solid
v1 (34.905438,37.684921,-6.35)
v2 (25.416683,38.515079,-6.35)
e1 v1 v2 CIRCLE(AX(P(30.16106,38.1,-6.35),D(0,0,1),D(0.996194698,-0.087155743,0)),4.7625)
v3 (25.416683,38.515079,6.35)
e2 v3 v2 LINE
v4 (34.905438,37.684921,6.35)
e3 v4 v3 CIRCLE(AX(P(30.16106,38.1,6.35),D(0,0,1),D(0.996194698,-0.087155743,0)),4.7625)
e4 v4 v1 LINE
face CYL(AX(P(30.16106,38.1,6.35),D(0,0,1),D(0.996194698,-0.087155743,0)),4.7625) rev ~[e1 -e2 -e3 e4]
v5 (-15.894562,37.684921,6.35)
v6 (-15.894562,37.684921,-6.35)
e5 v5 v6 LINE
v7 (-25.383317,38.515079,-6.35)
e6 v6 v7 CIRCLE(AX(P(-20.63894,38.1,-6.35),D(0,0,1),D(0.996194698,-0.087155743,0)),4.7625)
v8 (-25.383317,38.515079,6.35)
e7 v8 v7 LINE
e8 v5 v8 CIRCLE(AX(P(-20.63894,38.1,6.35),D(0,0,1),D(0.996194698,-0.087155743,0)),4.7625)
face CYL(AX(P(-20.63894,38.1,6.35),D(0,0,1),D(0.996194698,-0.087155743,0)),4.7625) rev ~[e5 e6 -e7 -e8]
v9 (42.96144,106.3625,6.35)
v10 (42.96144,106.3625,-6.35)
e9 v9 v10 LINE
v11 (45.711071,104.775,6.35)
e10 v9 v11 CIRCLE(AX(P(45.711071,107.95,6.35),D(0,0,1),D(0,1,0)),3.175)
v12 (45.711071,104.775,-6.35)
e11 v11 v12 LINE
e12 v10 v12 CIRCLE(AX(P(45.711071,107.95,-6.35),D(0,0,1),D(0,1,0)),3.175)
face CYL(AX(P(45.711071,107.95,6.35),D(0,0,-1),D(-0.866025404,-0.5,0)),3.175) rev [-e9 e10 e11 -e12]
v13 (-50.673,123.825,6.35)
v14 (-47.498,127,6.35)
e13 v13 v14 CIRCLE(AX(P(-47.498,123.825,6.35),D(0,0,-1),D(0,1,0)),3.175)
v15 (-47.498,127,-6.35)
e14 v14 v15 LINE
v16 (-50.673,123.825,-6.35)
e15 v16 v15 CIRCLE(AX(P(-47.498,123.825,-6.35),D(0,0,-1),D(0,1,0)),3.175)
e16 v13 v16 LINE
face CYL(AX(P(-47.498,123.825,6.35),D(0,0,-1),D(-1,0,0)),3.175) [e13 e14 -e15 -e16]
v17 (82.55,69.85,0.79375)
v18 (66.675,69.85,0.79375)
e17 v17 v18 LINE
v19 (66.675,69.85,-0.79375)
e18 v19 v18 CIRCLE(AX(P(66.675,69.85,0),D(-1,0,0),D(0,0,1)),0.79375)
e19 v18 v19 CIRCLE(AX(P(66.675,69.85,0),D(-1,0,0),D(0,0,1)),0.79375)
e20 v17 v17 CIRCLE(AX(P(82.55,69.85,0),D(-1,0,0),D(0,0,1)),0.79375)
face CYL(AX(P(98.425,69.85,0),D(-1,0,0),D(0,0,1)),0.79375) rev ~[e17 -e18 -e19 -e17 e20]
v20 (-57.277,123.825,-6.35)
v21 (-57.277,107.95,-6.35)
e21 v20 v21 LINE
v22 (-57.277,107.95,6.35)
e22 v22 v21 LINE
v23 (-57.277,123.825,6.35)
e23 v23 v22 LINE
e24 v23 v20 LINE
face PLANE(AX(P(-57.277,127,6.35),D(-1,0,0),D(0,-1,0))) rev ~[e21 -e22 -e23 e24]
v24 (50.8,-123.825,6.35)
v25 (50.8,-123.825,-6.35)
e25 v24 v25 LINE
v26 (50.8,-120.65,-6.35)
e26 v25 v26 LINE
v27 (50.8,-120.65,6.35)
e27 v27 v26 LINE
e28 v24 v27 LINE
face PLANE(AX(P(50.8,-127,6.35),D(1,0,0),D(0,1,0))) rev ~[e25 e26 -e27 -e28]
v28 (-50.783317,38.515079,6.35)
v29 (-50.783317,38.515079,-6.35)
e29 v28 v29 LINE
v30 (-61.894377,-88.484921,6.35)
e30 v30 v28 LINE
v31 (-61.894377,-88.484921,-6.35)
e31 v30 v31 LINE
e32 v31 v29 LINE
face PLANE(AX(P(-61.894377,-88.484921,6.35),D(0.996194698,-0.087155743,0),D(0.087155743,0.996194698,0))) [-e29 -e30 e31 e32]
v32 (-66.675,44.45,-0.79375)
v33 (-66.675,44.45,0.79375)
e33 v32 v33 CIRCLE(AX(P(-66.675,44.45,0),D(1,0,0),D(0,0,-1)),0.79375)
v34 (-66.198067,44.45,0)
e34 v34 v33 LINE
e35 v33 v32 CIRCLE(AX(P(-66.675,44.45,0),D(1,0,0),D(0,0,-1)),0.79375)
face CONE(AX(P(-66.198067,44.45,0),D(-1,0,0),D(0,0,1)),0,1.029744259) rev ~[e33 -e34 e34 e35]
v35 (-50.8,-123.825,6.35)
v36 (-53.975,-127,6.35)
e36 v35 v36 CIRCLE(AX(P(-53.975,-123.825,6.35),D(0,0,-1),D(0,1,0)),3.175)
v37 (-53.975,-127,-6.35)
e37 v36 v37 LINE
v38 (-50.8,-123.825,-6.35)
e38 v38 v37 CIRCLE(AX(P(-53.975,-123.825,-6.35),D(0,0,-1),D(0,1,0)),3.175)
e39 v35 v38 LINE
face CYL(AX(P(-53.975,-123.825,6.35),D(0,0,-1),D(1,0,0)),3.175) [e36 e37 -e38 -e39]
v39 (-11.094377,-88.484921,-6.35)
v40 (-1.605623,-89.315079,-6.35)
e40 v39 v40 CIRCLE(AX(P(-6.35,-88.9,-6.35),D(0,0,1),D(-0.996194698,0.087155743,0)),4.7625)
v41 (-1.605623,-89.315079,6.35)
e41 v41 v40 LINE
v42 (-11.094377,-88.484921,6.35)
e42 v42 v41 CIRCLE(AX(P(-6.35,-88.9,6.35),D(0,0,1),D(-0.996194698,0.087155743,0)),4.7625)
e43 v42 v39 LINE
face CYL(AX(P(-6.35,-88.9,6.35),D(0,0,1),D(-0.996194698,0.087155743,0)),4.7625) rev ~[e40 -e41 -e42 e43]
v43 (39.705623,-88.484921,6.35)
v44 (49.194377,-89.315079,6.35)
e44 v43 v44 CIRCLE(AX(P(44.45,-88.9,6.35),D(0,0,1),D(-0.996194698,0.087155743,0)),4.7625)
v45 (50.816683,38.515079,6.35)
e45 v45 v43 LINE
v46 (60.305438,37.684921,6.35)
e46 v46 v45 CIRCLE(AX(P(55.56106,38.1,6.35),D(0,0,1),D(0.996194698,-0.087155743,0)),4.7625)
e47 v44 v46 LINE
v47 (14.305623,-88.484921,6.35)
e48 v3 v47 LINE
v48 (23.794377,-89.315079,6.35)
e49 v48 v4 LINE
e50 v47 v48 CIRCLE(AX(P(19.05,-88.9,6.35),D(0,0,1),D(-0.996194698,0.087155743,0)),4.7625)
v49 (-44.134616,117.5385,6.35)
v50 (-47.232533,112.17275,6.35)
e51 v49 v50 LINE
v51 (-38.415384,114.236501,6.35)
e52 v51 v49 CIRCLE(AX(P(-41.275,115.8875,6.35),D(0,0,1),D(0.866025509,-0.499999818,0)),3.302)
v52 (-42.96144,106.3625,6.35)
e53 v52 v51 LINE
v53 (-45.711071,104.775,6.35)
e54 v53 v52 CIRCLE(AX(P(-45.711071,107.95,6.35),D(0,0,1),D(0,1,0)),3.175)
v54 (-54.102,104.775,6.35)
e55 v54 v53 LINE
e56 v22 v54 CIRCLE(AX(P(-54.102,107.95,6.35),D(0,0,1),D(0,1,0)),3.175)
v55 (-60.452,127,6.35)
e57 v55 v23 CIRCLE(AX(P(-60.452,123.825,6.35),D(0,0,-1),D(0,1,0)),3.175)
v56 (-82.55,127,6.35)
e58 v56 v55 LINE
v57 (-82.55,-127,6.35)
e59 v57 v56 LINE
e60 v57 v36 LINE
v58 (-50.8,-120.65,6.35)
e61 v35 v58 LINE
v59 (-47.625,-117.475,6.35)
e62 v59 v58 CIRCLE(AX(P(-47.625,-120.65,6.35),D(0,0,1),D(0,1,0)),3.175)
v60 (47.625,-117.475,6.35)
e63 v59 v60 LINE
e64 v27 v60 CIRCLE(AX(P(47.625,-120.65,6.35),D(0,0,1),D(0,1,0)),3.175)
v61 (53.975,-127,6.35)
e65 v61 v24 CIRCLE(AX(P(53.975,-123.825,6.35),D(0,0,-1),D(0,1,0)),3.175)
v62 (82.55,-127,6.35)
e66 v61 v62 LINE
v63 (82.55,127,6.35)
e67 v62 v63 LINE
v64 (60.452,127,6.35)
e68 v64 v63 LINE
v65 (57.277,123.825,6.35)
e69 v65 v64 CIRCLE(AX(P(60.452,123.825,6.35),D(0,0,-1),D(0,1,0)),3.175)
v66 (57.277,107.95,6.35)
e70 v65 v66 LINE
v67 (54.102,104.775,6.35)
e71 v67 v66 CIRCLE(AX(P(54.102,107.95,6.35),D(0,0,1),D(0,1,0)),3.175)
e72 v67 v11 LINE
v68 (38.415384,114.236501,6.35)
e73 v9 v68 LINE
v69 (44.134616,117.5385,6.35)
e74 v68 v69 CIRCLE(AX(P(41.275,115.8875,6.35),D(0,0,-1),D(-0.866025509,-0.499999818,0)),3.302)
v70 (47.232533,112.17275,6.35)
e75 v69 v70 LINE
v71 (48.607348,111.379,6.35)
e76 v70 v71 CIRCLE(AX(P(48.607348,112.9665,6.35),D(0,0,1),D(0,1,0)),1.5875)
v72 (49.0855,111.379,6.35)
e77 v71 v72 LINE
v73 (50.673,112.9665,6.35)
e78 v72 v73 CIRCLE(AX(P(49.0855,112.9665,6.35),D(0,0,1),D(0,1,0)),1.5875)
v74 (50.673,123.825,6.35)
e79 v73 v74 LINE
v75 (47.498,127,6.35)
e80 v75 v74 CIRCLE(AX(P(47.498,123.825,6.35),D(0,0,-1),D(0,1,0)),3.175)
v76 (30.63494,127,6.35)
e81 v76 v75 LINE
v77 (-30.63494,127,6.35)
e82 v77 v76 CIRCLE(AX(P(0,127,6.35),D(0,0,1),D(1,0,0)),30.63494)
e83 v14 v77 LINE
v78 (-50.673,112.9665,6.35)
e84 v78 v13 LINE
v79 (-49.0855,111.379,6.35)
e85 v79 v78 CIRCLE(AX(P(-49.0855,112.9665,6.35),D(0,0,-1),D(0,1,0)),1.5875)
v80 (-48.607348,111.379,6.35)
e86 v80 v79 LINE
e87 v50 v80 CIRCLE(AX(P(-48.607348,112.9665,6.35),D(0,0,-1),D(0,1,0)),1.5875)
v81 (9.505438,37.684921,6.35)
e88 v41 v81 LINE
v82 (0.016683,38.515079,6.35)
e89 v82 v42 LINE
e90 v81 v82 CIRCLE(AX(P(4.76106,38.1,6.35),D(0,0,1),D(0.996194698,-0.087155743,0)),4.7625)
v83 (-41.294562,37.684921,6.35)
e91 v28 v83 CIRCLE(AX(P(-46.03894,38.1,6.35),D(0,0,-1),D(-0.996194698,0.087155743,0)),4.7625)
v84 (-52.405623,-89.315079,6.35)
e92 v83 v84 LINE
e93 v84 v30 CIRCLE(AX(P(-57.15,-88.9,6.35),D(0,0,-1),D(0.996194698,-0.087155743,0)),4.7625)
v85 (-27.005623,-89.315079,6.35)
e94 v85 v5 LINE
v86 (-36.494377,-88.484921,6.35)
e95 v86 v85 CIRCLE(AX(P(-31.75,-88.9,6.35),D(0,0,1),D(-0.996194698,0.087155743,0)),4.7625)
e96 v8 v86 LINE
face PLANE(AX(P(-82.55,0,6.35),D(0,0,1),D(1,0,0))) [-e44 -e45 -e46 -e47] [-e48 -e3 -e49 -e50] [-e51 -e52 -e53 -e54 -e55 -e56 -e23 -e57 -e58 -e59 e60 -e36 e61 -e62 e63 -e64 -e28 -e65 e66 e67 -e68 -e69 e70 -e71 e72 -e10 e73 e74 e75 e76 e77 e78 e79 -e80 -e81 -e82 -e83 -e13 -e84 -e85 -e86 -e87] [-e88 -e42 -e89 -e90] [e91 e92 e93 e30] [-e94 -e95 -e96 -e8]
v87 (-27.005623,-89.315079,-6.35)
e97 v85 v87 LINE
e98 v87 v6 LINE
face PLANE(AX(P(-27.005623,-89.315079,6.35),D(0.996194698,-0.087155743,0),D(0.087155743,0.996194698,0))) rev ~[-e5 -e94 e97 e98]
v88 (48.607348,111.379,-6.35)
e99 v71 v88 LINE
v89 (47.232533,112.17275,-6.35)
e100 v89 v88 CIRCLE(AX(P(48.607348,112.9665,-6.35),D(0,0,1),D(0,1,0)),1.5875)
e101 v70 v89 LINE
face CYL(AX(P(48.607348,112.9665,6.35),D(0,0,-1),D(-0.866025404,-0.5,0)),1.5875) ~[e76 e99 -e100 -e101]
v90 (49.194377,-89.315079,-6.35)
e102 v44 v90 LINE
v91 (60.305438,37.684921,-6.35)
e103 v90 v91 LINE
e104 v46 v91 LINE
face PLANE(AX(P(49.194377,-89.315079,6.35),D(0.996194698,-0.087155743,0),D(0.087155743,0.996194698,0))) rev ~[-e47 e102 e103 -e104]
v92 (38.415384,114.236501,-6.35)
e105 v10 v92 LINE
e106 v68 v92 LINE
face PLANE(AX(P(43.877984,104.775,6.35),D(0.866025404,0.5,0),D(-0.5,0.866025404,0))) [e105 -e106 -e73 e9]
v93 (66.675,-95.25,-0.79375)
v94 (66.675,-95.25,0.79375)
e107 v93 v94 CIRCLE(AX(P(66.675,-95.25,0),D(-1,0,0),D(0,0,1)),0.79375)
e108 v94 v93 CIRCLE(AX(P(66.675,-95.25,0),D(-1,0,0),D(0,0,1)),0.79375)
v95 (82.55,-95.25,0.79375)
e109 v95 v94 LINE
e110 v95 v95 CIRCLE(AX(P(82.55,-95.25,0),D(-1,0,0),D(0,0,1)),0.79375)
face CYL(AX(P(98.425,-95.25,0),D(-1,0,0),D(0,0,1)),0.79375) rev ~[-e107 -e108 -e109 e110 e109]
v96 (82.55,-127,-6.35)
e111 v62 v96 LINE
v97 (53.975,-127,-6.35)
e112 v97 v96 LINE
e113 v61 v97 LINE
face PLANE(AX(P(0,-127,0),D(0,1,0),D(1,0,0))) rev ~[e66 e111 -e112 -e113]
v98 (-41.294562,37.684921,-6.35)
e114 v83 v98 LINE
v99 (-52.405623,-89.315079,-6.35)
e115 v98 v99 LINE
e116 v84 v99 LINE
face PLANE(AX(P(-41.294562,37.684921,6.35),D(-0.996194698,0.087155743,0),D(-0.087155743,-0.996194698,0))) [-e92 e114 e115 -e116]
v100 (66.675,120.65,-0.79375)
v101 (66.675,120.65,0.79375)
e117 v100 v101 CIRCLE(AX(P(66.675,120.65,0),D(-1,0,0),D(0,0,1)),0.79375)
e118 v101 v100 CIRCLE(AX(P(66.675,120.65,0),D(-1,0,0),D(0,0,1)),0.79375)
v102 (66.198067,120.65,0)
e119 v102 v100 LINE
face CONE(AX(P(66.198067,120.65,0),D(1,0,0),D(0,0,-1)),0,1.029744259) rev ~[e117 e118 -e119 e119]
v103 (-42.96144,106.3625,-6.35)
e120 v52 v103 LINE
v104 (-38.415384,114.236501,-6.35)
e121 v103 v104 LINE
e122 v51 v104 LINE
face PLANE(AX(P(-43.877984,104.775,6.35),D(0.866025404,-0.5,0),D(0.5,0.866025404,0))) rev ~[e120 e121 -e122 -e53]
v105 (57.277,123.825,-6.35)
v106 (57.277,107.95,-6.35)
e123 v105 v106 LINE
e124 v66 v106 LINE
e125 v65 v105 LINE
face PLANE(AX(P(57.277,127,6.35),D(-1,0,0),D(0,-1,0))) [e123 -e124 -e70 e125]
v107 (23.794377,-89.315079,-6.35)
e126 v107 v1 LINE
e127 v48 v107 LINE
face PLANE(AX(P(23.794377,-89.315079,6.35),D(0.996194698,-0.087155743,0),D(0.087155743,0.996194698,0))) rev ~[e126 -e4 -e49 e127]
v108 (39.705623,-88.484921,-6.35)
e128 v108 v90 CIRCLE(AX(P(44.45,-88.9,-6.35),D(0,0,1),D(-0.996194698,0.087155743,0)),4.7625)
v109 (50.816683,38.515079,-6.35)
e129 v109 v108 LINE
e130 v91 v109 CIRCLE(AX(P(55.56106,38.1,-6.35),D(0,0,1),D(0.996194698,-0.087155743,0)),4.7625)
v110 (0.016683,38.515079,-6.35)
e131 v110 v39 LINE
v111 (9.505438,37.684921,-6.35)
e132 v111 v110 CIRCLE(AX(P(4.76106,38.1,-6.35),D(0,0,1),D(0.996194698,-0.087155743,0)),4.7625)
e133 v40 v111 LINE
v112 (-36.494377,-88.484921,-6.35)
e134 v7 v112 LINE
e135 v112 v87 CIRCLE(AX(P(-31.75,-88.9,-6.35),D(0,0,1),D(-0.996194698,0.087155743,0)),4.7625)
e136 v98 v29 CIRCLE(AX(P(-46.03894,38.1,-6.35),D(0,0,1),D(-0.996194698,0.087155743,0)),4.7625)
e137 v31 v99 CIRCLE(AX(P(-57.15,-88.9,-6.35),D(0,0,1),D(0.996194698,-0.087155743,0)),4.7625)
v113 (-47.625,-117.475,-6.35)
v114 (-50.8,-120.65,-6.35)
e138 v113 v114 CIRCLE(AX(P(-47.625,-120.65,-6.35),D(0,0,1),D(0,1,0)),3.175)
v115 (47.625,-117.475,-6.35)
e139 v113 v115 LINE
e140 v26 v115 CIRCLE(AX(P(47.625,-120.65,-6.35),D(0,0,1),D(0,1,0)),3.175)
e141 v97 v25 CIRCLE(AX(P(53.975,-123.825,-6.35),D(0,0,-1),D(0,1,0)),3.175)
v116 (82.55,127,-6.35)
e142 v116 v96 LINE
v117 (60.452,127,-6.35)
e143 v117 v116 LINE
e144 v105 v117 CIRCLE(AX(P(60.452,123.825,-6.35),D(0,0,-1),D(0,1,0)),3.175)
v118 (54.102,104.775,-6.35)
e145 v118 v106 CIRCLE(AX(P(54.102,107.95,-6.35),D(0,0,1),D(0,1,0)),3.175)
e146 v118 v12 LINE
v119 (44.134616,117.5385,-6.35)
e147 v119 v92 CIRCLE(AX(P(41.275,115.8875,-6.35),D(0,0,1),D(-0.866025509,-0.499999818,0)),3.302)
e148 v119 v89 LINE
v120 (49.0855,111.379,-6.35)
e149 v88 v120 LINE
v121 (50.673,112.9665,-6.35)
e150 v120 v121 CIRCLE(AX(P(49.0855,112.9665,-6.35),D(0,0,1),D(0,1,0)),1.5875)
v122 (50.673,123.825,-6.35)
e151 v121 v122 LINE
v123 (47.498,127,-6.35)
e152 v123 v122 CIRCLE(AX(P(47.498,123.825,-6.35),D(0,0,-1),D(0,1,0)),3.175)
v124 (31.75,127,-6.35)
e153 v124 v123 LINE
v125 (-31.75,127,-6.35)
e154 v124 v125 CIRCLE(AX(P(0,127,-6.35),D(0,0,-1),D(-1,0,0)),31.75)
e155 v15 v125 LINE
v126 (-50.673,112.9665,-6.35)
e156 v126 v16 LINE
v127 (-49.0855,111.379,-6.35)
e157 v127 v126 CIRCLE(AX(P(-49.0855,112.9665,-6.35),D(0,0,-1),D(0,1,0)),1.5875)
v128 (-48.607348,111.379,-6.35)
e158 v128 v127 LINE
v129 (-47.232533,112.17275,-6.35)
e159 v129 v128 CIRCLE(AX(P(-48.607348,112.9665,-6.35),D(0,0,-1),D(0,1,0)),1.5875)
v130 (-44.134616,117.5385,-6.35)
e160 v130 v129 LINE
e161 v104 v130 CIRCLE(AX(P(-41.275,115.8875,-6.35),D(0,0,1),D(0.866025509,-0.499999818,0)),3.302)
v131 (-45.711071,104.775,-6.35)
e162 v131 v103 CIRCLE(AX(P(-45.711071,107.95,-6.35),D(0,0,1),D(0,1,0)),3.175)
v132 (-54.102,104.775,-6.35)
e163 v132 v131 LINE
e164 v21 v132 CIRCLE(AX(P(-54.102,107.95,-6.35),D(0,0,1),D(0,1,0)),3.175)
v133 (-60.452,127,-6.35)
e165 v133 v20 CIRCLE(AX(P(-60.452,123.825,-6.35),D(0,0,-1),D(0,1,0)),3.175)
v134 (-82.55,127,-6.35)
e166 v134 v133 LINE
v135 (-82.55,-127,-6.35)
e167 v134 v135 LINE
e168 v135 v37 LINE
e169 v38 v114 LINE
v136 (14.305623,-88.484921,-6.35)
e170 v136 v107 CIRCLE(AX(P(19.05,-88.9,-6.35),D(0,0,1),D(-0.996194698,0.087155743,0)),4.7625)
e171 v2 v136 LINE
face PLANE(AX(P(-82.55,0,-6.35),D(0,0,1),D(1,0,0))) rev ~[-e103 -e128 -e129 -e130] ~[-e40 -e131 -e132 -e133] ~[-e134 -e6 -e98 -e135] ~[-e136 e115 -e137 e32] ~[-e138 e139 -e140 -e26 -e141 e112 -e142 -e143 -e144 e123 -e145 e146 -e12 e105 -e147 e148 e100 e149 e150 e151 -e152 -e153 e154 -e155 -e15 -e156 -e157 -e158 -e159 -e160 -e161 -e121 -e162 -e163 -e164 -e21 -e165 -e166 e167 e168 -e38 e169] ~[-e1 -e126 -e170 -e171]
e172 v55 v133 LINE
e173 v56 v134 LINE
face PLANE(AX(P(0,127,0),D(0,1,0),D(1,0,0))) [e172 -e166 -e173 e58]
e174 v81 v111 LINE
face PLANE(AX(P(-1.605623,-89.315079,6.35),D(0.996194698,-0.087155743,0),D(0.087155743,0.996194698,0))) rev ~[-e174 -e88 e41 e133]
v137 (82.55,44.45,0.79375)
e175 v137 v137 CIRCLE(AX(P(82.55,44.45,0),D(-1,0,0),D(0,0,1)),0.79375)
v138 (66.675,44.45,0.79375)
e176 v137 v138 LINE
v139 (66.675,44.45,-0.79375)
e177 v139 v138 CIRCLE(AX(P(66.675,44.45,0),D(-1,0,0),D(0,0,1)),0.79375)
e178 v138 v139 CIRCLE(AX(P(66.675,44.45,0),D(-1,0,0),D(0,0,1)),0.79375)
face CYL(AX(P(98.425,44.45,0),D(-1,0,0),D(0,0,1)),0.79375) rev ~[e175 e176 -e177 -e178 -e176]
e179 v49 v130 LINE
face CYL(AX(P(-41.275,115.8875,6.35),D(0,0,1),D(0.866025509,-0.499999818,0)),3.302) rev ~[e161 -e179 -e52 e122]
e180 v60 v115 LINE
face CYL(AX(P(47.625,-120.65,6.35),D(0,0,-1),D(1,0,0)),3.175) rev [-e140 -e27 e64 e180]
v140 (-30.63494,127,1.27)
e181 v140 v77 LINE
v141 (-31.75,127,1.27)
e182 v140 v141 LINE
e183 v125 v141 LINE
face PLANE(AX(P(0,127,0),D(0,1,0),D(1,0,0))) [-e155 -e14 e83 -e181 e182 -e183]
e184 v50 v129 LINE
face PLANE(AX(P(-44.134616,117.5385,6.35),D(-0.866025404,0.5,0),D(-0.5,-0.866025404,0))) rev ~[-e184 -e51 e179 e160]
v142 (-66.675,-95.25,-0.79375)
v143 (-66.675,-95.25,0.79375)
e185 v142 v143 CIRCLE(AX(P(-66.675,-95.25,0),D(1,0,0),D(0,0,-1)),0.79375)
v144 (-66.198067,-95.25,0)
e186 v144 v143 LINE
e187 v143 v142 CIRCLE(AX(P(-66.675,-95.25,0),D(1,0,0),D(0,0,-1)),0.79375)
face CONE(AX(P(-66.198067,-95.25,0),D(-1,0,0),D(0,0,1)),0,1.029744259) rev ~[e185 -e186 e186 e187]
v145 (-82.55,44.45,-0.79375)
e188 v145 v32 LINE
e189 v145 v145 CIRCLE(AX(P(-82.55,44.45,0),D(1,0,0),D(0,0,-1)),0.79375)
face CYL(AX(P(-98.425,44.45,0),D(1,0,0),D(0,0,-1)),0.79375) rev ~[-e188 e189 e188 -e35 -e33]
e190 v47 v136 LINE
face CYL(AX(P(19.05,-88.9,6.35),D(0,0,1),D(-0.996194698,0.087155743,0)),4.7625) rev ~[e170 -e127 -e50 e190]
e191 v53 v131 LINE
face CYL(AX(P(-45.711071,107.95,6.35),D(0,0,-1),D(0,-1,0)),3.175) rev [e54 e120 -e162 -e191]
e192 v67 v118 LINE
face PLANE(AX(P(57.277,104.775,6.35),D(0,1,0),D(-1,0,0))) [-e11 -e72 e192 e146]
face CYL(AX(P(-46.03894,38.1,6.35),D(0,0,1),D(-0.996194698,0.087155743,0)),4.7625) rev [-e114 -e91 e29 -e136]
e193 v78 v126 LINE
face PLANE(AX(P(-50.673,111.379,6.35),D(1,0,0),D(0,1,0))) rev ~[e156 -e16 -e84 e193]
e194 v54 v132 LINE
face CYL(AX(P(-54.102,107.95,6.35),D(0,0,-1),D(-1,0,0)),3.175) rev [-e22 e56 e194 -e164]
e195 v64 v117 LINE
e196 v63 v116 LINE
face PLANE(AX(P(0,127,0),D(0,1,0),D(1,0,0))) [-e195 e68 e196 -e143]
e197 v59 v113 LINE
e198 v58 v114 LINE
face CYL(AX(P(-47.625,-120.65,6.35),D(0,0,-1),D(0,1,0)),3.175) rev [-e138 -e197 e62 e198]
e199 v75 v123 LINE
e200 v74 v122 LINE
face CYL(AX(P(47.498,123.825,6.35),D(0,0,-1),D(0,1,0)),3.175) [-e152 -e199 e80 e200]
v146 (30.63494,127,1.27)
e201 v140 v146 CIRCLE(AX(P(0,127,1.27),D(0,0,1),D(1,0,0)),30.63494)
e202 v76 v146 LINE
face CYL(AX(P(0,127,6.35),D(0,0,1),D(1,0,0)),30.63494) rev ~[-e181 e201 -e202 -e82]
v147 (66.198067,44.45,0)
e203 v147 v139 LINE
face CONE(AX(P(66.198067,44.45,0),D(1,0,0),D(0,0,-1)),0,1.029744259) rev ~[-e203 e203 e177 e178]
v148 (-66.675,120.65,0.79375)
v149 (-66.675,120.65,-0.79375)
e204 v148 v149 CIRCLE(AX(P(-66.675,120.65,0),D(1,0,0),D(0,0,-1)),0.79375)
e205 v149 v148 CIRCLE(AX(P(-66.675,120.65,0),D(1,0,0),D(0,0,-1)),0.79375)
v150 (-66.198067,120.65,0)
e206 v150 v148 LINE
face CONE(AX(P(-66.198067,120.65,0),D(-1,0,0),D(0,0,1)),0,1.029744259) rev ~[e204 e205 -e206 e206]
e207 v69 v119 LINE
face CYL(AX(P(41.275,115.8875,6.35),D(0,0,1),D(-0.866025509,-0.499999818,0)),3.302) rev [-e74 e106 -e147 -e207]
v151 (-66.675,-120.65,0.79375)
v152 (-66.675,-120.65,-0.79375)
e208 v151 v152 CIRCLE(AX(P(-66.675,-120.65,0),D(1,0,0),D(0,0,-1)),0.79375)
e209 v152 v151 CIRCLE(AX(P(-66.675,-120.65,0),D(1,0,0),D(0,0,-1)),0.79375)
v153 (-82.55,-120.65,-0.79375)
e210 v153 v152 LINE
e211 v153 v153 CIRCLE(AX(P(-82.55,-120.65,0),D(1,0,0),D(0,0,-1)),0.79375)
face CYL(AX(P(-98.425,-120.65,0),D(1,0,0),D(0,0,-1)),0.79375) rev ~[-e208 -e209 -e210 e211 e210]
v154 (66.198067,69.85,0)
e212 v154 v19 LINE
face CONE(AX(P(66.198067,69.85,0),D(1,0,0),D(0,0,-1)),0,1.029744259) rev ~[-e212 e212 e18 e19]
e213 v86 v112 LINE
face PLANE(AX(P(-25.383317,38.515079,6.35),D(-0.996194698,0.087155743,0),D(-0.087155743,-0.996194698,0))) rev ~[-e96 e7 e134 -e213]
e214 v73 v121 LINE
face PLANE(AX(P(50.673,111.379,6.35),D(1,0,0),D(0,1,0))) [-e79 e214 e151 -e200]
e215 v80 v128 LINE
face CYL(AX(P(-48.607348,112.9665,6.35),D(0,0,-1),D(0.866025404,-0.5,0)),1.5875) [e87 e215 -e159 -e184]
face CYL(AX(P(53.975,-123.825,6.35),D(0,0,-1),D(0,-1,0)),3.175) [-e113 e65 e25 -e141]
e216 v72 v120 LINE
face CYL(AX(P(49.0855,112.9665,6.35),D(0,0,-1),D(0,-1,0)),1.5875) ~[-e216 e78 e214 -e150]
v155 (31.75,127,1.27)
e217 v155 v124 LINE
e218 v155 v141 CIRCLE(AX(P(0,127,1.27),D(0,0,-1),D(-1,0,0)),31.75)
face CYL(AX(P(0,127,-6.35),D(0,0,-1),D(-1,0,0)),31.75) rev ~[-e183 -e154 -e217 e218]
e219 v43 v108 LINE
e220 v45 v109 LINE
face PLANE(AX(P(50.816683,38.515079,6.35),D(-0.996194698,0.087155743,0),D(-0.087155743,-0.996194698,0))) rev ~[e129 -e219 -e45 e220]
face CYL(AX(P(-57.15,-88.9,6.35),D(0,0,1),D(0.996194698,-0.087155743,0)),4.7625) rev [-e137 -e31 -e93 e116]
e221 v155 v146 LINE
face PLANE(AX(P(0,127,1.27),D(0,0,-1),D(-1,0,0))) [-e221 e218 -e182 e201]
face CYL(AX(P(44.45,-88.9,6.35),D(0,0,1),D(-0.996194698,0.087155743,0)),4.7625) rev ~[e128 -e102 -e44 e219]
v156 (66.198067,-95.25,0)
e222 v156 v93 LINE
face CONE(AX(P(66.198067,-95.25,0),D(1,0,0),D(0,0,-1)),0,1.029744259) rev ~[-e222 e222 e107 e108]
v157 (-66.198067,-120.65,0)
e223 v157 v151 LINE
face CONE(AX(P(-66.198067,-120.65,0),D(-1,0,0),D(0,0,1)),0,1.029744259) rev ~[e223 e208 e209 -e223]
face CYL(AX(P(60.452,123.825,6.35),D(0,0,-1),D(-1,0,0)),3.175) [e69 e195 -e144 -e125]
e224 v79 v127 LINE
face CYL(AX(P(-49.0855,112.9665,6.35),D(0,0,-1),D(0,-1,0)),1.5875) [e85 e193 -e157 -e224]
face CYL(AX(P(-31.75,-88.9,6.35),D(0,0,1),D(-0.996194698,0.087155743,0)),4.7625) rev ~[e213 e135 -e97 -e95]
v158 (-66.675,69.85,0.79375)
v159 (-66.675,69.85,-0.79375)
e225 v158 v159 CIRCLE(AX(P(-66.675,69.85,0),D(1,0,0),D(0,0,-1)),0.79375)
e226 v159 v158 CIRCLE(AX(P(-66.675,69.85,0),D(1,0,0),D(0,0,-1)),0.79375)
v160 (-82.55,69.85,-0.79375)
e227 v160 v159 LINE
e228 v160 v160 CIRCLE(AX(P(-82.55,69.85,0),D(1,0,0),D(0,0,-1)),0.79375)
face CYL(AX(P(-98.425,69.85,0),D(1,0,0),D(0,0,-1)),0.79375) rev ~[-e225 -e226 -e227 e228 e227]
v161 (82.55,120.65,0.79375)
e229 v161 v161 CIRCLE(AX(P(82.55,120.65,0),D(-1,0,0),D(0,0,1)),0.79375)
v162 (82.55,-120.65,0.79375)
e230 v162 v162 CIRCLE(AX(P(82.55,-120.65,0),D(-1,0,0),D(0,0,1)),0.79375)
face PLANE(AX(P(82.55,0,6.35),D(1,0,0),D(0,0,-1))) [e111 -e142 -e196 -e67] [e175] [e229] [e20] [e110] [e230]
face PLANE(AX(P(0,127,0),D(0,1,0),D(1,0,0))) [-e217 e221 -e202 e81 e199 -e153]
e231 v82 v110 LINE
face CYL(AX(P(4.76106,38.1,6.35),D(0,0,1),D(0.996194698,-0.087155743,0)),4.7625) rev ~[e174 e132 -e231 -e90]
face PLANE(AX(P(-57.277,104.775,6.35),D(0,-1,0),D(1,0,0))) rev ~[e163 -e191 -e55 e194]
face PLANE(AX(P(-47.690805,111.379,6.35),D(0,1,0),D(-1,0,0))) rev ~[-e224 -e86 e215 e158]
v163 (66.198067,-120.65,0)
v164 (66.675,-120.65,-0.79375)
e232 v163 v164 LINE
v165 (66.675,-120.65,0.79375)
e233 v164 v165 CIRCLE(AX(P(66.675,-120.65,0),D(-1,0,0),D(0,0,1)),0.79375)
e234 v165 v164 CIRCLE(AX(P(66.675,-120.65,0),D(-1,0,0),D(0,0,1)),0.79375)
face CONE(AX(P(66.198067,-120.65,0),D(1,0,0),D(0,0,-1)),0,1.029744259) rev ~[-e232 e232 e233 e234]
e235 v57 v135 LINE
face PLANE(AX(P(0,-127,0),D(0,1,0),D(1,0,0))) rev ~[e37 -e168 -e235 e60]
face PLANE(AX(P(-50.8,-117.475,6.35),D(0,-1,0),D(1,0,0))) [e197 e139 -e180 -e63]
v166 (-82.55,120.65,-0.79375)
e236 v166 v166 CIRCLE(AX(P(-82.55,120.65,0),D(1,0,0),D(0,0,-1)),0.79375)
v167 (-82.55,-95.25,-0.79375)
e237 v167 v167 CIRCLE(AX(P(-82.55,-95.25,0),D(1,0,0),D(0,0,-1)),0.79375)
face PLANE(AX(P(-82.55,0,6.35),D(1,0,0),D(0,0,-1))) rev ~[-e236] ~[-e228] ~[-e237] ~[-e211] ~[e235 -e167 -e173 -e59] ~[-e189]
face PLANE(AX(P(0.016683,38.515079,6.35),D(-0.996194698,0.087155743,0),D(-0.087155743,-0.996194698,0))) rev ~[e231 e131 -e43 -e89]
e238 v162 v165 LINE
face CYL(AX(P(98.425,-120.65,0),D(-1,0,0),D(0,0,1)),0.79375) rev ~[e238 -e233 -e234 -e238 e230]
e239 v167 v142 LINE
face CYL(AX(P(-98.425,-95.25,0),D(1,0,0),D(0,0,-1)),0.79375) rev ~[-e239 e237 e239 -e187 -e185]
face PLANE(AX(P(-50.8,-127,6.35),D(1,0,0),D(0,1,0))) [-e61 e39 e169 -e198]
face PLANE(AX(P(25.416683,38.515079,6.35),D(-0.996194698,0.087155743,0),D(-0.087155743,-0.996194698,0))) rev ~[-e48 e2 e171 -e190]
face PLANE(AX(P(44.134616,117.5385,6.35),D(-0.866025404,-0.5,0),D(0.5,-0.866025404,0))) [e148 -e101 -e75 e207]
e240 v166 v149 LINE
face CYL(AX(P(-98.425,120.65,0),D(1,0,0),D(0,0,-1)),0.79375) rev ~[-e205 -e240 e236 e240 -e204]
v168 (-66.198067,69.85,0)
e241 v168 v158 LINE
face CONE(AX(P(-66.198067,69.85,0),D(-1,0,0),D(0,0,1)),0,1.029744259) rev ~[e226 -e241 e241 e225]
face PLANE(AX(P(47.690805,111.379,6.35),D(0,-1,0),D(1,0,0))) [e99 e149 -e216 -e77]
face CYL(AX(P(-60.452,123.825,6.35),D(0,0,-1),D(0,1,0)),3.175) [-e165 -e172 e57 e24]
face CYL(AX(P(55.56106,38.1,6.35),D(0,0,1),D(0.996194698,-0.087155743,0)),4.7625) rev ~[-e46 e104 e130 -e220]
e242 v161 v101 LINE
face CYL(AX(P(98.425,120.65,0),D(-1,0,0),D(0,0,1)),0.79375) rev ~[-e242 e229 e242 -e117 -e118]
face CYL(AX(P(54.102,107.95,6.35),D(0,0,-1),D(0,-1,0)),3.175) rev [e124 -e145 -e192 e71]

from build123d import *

# Parameters (mm, degrees)
SKETCH1_W                          = 165.1
SKETCH1_H                          = 12.7
BOSS_EXTRUDE1_DEPTH                = 127
SKETCH2_R                          = 30.63494
CUT_EXTRUDE1_DEPTH                 = 153.002606886
SKETCH3_R                          = 31.75
CUT_EXTRUDE2_DEPTH                 = 7.62
CUT_EXTRUDE3_DEPTH                 = 153.002606886
FILLET1_R                          = 3.175
FILLET2_R                          = 1.5875
SKETCH5_W                          = 101.6
SKETCH5_H                          = 9.525
CUT_EXTRUDE4_DEPTH                 = 153.002606886
FILLET3_R                          = 3.175
F_1_16_0_0625_DIAMETER_HOLE1_D     = 1.5875
F_1_16_0_0625_DIAMETER_HOLE1_DEPTH = 15.875
F_1_16_0_0625_DIAMETER_HOLE1_TIP   = 0.476933116
F_1_16_0_0625_DIAMETER_HOLE2_D     = 1.5875
F_1_16_0_0625_DIAMETER_HOLE2_DEPTH = 15.875
F_1_16_0_0625_DIAMETER_HOLE2_TIP   = 0.476933116
CUT_EXTRUDE5_DEPTH                 = 153.002606886


with BuildPart() as part:
    # Sketch1 → Boss-Extrude1 (new, symmetric)
    with BuildSketch(Plane(origin=(0, 0, 0), x_dir=(1, 0, 0), z_dir=(0, 1, 0))):
        Rectangle(SKETCH1_W, SKETCH1_H)
    extrude(amount=BOSS_EXTRUDE1_DEPTH, both=True)

    # Sketch2 → Cut-Extrude1 (cut, through all)
    with BuildSketch(Plane.XY.offset(6.35)):
        with Locations((0, 127)):
            Circle(SKETCH2_R)
    extrude(amount=-CUT_EXTRUDE1_DEPTH, mode=Mode.SUBTRACT)

    # Sketch3 → Cut-Extrude2 (cut)
    with BuildSketch(Plane(origin=(0, 0, -6.35), x_dir=(-1, 0, 0), z_dir=(0, 0, -1))):
        with Locations((0, 127)):
            Circle(SKETCH3_R)
    extrude(amount=-CUT_EXTRUDE2_DEPTH, mode=Mode.SUBTRACT)

    # Sketch4 → Cut-Extrude3 (cut, through all)
    with BuildSketch(Plane.XY.offset(6.35)):
        with BuildLine():
            Line((57.277, 127), (57.277, 104.775))
            Line((57.277, 104.775), (43.877983689, 104.775))
            Line((43.877983689, 104.775), (38.415383769, 114.236500603))
            ThreePointArc((38.415383769, 114.236500603), (39.624000301, 118.747116057), (44.134615883, 117.5385))
            Line((44.134615883, 117.5385), (47.690804866, 111.379))
            Line((47.690804866, 111.379), (50.673, 111.379))
            Line((50.673, 111.379), (50.673, 127))
            Line((50.673, 127), (57.277, 127))
        make_face()
        with BuildLine():
            Line((-50.673, 127), (-57.277, 127))
            Line((-57.277, 127), (-57.277, 104.775))
            Line((-57.277, 104.775), (-43.877983689, 104.775))
            Line((-43.877983689, 104.775), (-38.415383769, 114.236500603))
            ThreePointArc((-38.415383769, 114.236500603), (-39.624000301, 118.747116057), (-44.134615883, 117.5385))
            Line((-44.134615883, 117.5385), (-47.690804866, 111.379))
            Line((-47.690804866, 111.379), (-50.673, 111.379))
            Line((-50.673, 111.379), (-50.673, 127))
        make_face()
    extrude(amount=-CUT_EXTRUDE3_DEPTH, mode=Mode.SUBTRACT)

    # Fillet1
    fillet1_edges = [part.edges().sort_by_distance(p)[0] for p in [
        (50.673, 127, 0),
        (57.277, 127, 0),
        (57.277, 104.775, 0),
        (43.877983689, 104.775, 0),
        (-43.877983689, 104.775, 0),
        (-57.277, 104.775, 0),
        (-57.277, 127, 0),
        (-50.673, 127, 0),
    ]]
    fillet(fillet1_edges, radius=FILLET1_R)

    # Fillet2
    fillet2_edges = [part.edges().sort_by_distance(p)[0] for p in [
        (47.690804866, 111.379, 0),
        (50.673, 111.379, 0),
        (-50.673, 111.379, 0),
        (-47.690804866, 111.379, 0),
    ]]
    fillet(fillet2_edges, radius=FILLET2_R)

    # Sketch5 → Cut-Extrude4 (cut, through all)
    with BuildSketch(Plane.XY.offset(6.35)):
        with Locations((0, -122.2375)):
            Rectangle(SKETCH5_W, SKETCH5_H)
    extrude(amount=-CUT_EXTRUDE4_DEPTH, mode=Mode.SUBTRACT)

    # Fillet3
    fillet3_edges = [part.edges().sort_by_distance(p)[0] for p in [
        (-50.8, -127, 0),
        (-50.8, -117.475, 0),
        (50.8, -117.475, 0),
        (50.8, -127, 0),
    ]]
    fillet(fillet3_edges, radius=FILLET3_R)

    # 1/16 (0.0625) Diameter Hole1
    with Locations(Plane(origin=(82.55, 0, 0), x_dir=(0, 0, -1), z_dir=(1, 0, 0))):
        with Locations((0, -120.65), (0, -95.25), (0, 44.45), (0, 69.85), (0, 120.65)):
            Hole(F_1_16_0_0625_DIAMETER_HOLE1_D / 2, depth=F_1_16_0_0625_DIAMETER_HOLE1_DEPTH)
            with Locations((0, 0, -(F_1_16_0_0625_DIAMETER_HOLE1_DEPTH + F_1_16_0_0625_DIAMETER_HOLE1_TIP / 2))):  # 118° drill point
                Cone(0, F_1_16_0_0625_DIAMETER_HOLE1_D / 2, F_1_16_0_0625_DIAMETER_HOLE1_TIP, mode=Mode.SUBTRACT)

    # 1/16 (0.0625) Diameter Hole2
    with Locations(Plane.ZY.offset(82.55)):
        with Locations((0, -120.65), (0, -95.25), (0, 44.45), (0, 69.85), (0, 120.65)):
            Hole(F_1_16_0_0625_DIAMETER_HOLE2_D / 2, depth=F_1_16_0_0625_DIAMETER_HOLE2_DEPTH)
            with Locations((0, 0, -(F_1_16_0_0625_DIAMETER_HOLE2_DEPTH + F_1_16_0_0625_DIAMETER_HOLE2_TIP / 2))):  # 118° drill point
                Cone(0, F_1_16_0_0625_DIAMETER_HOLE2_D / 2, F_1_16_0_0625_DIAMETER_HOLE2_TIP, mode=Mode.SUBTRACT)

    # Sketch10 → Cut-Extrude5 (cut, through all)
    with BuildSketch(Plane.XY.offset(6.35)):
        with BuildLine():
            Line((-61.89437725, -88.484920775), (-50.783316982, 38.515079225))
            ThreePointArc((-50.783316982, 38.515079225), (-45.623860507, 42.84437725), (-41.294562483, 37.684920775))
            Line((-41.294562483, 37.684920775), (-52.40562275, -89.315079225))
            ThreePointArc((-52.40562275, -89.315079225), (-57.565079225, -93.64437725), (-61.89437725, -88.484920775))
        make_face()
        with BuildLine():
            Line((-27.00562275, -89.315079225), (-15.894562483, 37.684920775))
            ThreePointArc((-15.894562483, 37.684920775), (-20.223860507, 42.84437725), (-25.383316982, 38.515079225))
            Line((-25.383316982, 38.515079225), (-36.49437725, -88.484920775))
            ThreePointArc((-36.49437725, -88.484920775), (-32.165079225, -93.64437725), (-27.00562275, -89.315079225))
        make_face()
        with BuildLine():
            Line((-1.60562275, -89.315079225), (9.505437517, 37.684920775))
            ThreePointArc((9.505437517, 37.684920775), (5.176139493, 42.84437725), (0.016683018, 38.515079225))
            Line((0.016683018, 38.515079225), (-11.09437725, -88.484920775))
            ThreePointArc((-11.09437725, -88.484920775), (-6.765079225, -93.64437725), (-1.60562275, -89.315079225))
        make_face()
        with BuildLine():
            Line((23.79437725, -89.315079225), (34.905437517, 37.684920775))
            ThreePointArc((34.905437517, 37.684920775), (30.576139493, 42.84437725), (25.416683018, 38.515079225))
            Line((25.416683018, 38.515079225), (14.30562275, -88.484920775))
            ThreePointArc((14.30562275, -88.484920775), (18.634920775, -93.64437725), (23.79437725, -89.315079225))
        make_face()
        with BuildLine():
            Line((49.19437725, -89.315079225), (60.305437517, 37.684920775))
            ThreePointArc((60.305437517, 37.684920775), (55.976139493, 42.84437725), (50.816683018, 38.515079225))
            Line((50.816683018, 38.515079225), (39.70562275, -88.484920775))
            ThreePointArc((39.70562275, -88.484920775), (44.034920775, -93.64437725), (49.19437725, -89.315079225))
        make_face()
    extrude(amount=-CUT_EXTRUDE5_DEPTH, mode=Mode.SUBTRACT)


solid = part.part
